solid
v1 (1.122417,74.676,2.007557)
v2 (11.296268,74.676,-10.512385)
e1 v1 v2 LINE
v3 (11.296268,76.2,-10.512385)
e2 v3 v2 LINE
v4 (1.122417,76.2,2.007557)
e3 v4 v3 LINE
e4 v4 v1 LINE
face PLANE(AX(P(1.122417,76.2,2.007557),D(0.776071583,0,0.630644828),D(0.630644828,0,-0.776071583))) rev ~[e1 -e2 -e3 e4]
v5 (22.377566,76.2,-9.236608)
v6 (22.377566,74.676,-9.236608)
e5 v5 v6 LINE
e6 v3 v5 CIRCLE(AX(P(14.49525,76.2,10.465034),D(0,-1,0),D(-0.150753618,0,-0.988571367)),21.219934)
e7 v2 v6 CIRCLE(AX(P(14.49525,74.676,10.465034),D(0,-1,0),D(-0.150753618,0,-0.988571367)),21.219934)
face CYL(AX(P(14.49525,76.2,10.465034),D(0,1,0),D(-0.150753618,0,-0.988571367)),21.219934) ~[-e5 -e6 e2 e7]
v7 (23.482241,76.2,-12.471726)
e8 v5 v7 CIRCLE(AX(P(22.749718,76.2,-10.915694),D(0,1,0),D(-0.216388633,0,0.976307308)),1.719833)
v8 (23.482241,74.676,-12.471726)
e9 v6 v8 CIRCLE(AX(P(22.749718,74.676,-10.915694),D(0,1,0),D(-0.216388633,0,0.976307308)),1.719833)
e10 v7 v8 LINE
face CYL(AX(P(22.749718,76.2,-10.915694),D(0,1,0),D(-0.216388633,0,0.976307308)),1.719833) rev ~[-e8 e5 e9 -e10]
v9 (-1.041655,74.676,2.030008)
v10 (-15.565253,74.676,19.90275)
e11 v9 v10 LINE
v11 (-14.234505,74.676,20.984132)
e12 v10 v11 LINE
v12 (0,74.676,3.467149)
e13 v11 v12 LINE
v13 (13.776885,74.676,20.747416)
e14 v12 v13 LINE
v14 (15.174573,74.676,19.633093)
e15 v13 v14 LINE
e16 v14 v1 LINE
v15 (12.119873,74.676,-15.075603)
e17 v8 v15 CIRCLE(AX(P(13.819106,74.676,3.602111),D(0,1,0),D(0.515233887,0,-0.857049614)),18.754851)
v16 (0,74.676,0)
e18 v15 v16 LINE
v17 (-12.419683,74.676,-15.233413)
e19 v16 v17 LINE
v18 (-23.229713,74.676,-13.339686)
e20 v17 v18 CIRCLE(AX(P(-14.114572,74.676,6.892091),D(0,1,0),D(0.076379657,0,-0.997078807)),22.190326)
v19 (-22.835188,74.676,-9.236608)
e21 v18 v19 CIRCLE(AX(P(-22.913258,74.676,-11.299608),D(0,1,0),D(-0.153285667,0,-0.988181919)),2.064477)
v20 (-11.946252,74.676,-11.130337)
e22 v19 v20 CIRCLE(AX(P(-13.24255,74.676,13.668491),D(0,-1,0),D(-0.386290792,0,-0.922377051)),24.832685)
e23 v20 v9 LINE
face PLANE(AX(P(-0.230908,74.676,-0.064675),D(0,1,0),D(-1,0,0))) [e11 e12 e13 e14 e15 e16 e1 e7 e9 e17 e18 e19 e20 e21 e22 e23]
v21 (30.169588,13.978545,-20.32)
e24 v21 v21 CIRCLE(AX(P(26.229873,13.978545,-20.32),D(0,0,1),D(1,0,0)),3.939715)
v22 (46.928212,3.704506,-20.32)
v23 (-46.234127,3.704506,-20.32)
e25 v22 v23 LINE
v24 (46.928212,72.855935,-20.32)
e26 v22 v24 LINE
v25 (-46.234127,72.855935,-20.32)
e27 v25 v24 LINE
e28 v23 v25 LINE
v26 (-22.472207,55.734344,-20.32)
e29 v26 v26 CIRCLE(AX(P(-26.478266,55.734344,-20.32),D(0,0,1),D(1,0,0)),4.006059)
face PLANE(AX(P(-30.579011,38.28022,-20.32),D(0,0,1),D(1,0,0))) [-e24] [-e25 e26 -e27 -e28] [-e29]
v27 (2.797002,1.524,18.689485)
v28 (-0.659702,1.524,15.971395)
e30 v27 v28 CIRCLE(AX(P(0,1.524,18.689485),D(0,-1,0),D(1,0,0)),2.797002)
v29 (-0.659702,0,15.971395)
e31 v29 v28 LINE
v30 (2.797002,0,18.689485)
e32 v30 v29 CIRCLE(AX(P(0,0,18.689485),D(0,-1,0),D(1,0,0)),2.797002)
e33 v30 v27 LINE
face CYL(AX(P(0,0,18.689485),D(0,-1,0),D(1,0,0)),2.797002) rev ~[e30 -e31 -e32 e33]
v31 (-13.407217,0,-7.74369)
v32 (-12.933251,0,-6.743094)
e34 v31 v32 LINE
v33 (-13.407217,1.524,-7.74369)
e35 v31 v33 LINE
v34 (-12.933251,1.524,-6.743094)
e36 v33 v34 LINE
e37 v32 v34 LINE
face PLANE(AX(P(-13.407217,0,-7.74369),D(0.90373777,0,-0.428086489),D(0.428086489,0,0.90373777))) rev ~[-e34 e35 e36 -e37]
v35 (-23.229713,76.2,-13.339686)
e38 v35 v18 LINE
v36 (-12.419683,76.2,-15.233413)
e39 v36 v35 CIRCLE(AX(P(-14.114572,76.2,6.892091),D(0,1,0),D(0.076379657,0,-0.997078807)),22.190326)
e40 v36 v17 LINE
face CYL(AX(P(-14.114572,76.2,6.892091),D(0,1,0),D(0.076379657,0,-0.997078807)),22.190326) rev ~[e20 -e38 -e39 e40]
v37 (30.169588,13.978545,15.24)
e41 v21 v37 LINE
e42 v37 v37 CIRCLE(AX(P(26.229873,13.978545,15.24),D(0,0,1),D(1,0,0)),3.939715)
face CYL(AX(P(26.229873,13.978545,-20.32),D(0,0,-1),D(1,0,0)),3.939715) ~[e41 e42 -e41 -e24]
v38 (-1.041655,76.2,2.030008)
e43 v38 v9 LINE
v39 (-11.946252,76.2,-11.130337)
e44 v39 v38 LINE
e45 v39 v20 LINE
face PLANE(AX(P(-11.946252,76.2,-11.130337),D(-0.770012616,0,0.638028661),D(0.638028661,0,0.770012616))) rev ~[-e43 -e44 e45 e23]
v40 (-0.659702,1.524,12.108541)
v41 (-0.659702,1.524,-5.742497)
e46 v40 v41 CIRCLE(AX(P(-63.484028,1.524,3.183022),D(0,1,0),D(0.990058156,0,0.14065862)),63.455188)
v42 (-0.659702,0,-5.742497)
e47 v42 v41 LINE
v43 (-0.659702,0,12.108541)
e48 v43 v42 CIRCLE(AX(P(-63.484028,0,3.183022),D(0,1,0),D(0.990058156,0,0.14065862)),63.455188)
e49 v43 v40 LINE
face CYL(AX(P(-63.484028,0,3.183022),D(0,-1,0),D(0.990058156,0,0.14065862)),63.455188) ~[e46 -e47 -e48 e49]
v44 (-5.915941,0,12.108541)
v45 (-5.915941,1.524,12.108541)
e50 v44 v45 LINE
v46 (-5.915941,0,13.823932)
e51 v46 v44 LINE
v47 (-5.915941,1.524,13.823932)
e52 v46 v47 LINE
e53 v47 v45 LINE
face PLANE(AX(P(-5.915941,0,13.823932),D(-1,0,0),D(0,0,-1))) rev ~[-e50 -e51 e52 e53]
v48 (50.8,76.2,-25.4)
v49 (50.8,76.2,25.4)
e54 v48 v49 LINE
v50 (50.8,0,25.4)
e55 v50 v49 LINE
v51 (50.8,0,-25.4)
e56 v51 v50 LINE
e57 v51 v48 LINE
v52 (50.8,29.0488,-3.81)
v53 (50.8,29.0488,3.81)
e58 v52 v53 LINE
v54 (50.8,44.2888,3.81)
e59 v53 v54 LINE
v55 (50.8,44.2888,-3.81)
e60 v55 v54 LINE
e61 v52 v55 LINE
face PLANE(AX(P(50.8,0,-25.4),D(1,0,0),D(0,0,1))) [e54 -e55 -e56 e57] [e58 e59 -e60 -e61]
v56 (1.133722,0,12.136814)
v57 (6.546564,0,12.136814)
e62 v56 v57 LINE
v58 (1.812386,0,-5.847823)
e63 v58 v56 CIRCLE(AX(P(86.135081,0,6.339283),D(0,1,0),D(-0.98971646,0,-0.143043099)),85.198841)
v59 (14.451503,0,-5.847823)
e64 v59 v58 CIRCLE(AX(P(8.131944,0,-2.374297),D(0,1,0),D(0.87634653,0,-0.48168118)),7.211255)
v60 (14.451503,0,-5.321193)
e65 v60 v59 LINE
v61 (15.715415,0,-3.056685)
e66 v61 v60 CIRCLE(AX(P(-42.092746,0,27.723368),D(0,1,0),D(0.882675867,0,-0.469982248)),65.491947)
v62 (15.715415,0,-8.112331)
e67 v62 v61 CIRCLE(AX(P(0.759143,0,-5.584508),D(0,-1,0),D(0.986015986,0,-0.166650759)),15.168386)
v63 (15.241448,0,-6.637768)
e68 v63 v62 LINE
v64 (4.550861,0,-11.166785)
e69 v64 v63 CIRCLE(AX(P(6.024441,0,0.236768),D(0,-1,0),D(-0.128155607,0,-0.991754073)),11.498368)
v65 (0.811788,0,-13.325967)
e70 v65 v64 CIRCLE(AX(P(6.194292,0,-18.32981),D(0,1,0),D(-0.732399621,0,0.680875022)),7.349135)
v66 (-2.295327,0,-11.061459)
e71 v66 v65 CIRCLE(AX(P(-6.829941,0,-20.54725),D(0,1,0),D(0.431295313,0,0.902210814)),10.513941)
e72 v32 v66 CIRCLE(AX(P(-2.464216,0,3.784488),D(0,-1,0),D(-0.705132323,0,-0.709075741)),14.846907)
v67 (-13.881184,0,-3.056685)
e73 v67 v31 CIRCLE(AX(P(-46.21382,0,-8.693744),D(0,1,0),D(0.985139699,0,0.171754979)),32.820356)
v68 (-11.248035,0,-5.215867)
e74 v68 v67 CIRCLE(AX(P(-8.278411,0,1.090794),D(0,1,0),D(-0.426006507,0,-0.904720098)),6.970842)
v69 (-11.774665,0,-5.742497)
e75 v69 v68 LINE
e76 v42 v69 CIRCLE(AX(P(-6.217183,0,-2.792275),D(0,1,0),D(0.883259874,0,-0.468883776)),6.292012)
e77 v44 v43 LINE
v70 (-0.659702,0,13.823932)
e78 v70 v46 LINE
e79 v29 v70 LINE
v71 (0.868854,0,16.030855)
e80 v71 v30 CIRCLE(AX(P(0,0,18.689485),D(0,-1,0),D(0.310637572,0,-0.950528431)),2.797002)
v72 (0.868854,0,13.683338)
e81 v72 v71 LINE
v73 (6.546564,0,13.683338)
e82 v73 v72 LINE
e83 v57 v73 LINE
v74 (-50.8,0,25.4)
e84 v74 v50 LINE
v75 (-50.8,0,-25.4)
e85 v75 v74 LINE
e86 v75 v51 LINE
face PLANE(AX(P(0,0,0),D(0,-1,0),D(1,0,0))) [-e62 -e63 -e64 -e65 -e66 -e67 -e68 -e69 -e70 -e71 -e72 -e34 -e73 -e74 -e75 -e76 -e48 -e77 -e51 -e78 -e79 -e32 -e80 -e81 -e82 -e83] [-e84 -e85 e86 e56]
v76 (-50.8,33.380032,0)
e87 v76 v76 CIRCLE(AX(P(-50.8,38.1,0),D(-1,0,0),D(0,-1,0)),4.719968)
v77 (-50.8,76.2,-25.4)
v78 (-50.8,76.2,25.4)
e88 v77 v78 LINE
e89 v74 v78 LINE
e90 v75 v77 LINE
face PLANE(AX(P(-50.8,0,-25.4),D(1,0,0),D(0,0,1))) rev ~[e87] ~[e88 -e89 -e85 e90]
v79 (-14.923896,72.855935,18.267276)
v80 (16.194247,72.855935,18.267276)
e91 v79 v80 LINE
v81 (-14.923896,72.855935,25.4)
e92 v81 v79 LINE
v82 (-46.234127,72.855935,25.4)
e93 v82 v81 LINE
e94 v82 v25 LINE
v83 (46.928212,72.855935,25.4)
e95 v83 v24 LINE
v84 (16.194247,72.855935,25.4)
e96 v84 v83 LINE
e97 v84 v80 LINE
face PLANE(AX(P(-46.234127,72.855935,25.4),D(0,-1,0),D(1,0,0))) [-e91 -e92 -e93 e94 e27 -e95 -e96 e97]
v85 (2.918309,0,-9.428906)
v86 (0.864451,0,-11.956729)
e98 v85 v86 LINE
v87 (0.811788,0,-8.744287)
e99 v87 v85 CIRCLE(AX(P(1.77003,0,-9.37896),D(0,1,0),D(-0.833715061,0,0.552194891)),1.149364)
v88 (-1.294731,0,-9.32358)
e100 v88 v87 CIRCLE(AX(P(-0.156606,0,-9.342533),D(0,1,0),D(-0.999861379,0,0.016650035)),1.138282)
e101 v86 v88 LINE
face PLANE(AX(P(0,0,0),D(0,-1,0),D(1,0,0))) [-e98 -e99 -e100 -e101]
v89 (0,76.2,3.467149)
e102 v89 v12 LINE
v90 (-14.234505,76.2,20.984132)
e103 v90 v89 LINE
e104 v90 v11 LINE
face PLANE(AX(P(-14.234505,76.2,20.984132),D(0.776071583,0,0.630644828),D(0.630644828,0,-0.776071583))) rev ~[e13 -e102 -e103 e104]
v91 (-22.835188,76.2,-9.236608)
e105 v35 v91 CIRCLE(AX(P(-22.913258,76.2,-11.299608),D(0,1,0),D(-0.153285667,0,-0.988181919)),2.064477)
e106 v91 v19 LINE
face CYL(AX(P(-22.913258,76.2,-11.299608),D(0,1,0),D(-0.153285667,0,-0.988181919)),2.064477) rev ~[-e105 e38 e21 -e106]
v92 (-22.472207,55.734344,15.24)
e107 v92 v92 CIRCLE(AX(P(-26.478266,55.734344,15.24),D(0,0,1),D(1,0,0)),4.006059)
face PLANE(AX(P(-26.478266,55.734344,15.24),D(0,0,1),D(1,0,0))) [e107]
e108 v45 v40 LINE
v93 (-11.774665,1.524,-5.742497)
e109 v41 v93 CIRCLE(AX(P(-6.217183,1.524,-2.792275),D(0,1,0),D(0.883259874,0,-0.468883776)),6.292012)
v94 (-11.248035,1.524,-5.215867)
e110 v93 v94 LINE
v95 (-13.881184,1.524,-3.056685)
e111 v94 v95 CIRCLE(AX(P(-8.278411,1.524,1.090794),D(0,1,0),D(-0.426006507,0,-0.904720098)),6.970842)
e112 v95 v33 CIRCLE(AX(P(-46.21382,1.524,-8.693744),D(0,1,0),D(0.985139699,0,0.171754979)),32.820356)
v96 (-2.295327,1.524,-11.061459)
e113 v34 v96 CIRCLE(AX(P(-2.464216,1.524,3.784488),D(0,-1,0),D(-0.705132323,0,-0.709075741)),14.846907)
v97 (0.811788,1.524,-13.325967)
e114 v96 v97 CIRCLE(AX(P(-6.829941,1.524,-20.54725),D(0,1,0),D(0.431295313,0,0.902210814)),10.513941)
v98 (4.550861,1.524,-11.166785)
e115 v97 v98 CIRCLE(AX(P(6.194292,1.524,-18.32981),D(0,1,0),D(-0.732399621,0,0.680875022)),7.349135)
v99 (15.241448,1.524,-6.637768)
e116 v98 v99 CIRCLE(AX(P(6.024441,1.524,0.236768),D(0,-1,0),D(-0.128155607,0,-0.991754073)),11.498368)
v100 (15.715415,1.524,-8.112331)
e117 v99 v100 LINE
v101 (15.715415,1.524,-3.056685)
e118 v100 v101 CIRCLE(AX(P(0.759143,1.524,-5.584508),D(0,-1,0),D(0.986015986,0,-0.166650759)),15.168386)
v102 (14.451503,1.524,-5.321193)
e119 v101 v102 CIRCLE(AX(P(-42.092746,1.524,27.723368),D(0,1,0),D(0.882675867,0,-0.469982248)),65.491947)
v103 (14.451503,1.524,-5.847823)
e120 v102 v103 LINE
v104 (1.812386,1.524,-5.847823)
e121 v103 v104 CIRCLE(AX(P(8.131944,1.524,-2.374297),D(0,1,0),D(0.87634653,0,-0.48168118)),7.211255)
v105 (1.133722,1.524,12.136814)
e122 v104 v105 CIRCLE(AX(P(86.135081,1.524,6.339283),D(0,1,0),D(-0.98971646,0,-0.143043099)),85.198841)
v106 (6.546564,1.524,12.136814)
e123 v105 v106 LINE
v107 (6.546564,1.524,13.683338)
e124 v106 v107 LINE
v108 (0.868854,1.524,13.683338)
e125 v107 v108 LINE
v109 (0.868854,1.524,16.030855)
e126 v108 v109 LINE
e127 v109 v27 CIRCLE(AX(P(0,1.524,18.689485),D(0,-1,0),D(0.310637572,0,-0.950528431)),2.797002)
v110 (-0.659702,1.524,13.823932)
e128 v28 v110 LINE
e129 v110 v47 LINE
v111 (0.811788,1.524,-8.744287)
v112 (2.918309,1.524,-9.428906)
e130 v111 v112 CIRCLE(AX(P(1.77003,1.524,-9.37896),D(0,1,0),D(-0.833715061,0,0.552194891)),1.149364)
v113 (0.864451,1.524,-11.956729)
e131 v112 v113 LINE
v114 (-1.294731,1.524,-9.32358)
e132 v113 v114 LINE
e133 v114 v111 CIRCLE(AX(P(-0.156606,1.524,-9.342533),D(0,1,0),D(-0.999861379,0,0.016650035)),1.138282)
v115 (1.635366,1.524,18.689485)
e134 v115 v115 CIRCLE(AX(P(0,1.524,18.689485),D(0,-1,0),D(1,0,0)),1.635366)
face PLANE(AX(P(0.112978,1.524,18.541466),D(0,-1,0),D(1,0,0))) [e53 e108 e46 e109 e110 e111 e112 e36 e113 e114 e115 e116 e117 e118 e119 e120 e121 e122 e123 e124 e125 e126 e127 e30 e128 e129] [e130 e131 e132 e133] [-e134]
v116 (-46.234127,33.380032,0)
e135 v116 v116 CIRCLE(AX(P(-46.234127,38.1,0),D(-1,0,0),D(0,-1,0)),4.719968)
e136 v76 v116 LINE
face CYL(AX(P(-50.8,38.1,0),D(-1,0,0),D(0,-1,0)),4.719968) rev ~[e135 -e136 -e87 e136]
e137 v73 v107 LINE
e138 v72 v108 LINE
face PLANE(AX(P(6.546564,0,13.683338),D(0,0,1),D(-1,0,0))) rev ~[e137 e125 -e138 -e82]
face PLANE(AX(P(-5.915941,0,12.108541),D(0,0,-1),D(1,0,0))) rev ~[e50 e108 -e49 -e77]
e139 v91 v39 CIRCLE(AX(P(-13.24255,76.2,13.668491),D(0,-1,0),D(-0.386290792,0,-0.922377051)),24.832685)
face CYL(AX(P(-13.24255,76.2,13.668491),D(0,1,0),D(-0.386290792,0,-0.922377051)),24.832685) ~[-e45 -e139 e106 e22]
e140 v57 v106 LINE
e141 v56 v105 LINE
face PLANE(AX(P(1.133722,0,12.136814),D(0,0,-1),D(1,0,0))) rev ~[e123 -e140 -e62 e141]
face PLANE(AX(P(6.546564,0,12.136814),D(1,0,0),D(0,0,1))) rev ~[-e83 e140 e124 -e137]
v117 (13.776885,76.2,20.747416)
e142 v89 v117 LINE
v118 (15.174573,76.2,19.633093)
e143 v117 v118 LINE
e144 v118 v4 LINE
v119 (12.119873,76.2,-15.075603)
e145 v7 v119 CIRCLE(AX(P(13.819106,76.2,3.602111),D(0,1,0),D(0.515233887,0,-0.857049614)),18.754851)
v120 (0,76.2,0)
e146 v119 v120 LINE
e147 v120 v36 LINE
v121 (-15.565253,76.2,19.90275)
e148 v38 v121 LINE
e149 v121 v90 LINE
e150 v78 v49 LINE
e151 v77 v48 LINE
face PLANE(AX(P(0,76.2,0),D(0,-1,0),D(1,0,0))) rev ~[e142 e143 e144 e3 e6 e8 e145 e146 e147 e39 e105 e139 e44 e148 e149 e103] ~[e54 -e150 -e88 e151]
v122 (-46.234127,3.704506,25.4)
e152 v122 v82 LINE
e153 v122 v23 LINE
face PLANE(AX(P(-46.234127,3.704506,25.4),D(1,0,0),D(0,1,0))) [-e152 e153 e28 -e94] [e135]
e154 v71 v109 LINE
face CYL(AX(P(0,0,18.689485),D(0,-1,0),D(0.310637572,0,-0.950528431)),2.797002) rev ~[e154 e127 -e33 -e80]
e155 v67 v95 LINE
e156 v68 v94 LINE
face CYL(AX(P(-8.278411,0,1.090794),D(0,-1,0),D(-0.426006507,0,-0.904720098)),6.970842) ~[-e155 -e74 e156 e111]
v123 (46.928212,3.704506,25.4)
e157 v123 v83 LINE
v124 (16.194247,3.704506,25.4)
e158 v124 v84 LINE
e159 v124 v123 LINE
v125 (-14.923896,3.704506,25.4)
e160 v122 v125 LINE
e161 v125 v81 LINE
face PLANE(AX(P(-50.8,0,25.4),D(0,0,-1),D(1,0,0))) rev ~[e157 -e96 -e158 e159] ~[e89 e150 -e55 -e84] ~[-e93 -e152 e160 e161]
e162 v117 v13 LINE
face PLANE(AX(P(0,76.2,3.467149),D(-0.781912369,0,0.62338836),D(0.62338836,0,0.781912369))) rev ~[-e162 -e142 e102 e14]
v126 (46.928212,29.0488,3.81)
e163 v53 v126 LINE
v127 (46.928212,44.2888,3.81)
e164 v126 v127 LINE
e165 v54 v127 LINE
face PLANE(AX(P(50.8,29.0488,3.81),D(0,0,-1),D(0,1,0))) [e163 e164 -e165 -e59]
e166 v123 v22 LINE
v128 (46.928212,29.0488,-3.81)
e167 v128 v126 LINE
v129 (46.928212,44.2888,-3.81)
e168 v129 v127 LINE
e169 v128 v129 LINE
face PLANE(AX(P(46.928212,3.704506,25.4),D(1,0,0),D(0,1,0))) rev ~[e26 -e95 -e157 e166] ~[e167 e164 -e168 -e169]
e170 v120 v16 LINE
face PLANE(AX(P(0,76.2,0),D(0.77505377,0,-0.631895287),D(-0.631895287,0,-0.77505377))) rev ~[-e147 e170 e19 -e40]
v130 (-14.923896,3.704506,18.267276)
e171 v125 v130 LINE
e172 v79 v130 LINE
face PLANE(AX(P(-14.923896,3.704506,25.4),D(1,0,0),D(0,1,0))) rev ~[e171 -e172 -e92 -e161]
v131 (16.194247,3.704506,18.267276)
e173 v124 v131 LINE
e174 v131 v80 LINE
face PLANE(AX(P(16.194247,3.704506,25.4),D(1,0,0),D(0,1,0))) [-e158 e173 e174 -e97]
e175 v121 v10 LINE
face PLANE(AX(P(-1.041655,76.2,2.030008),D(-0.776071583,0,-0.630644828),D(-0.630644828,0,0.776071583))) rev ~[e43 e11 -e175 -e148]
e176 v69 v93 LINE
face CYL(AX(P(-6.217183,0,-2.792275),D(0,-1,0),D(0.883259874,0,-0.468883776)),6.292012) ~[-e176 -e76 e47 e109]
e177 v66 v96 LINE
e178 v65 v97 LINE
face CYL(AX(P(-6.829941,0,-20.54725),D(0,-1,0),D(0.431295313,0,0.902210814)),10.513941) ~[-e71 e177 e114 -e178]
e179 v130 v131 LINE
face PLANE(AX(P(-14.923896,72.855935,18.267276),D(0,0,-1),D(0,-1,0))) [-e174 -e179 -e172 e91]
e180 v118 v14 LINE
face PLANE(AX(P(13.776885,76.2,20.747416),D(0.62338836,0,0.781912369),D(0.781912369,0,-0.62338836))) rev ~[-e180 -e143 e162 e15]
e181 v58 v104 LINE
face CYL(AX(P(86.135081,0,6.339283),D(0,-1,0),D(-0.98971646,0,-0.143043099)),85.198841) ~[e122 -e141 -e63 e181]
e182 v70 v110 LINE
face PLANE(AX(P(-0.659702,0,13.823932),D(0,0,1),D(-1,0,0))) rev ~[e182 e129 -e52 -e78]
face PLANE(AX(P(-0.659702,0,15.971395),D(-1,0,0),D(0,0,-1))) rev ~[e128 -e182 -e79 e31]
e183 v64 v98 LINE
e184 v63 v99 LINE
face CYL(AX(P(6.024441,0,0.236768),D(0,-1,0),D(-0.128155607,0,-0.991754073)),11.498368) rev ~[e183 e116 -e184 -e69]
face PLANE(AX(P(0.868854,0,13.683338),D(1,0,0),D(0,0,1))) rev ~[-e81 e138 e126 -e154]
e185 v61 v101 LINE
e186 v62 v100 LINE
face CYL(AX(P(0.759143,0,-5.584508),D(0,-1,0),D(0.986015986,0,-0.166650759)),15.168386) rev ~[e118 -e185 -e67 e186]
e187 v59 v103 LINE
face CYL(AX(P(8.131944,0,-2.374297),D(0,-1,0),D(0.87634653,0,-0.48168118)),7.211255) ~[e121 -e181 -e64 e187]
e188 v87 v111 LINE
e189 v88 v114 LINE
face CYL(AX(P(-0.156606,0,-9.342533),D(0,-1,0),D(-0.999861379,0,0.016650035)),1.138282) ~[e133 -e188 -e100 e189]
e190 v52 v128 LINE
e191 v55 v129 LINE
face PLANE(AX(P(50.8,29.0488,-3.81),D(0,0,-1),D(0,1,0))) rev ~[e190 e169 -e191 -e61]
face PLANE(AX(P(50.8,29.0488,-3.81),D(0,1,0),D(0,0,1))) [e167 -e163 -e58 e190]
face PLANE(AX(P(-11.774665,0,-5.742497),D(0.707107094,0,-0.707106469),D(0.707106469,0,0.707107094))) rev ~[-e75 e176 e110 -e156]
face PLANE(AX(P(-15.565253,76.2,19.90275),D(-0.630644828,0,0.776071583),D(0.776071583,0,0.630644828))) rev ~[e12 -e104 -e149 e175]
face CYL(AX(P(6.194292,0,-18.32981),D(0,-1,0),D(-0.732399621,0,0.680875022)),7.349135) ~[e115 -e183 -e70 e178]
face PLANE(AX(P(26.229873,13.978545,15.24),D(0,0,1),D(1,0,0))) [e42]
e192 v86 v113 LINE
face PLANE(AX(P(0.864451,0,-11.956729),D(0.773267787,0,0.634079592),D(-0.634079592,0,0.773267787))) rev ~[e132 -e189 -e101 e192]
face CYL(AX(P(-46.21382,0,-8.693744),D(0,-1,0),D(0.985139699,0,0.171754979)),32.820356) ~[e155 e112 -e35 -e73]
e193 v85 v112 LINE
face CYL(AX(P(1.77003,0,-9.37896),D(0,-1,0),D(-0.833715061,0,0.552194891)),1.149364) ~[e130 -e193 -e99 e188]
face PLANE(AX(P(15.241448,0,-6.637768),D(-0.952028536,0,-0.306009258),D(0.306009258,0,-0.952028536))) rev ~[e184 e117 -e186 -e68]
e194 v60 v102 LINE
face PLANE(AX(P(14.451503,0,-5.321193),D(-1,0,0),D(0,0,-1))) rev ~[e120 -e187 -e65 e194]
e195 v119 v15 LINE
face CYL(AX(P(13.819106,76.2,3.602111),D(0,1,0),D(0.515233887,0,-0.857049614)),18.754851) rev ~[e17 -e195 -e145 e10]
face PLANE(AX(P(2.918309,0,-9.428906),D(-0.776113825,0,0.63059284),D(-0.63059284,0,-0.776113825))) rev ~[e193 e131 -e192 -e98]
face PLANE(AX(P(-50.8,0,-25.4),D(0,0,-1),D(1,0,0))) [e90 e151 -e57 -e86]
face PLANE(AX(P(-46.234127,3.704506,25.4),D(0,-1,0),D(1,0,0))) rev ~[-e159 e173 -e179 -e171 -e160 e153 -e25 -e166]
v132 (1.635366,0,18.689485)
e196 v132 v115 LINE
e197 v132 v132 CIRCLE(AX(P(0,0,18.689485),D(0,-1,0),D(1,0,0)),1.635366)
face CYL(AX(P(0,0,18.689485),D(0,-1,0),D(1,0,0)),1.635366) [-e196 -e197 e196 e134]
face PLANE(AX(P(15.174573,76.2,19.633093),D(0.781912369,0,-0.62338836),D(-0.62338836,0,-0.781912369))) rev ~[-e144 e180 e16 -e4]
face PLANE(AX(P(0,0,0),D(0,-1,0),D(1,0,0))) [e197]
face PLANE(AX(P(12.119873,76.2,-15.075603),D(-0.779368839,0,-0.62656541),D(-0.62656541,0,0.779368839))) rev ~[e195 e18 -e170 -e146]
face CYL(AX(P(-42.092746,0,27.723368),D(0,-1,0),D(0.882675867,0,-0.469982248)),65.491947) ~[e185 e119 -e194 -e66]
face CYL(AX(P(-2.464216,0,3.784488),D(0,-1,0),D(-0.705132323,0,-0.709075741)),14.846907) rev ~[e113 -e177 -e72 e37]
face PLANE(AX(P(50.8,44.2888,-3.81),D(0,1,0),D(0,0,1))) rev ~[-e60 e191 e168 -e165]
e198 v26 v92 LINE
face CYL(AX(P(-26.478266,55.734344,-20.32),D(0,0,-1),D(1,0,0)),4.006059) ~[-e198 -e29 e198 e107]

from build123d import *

# Parameters (mm, degrees)
F0_W      = 101.6
F0_H      = 50.8
F1_DEPTH  = 76.2
F2_W      = 31.3102314249
F2_H      = 69.1514285281
F2_W_2    = 30.7339653373
F3_DEPTH  = 45.72
F4_W      = 69.1514285281
F4_H      = 38.5872757655
F5_DEPTH  = 50.8
F6_W      = 15.24
F6_H      = 7.62
F7_DEPTH  = 10.16
F8_R      = 4.7199680321
F9_DEPTH  = 12.7
F10_R     = 1.635365768
F11_DEPTH = 1.524
F13_DEPTH = 1.524
F14_R     = 4.0060593356
F14_R_2   = 3.939714961
F15_DEPTH = 35.56


with BuildPart() as f1:
    # F0 (on Front) → F1 (new body)
    with BuildSketch(Plane.XZ):
        Rectangle(F0_W, F0_H)
    extrude(amount=-F1_DEPTH)

    # F2 (on face) → F3 (cut)
    with BuildSketch(Plane.XY.offset(25.4)):
        with Locations((-30.5790114217, 38.2802202366)):
            Rectangle(F2_W, F2_H)
        with Locations((31.561229378, 38.2802202366)):
            Rectangle(F2_W_2, F2_H)
    extrude(amount=-F3_DEPTH, mode=Mode.SUBTRACT)

    # F4 (on face) → F5 (cut)
    with BuildSketch(Plane(origin=(-14.9238957092, 0, 0), x_dir=(0, -1, 0), z_dir=(-1, 0, 0))):
        with Locations((-38.2802202366, -1.0263621172)):
            Rectangle(F4_W, F4_H)
    extrude(amount=-F5_DEPTH, mode=Mode.SUBTRACT)

    # F6 (on face) → F7 (cut)
    with BuildSketch(Plane.YZ.offset(50.8)):
        with Locations((36.6688001752, 0)):
            Rectangle(F6_W, F6_H)
    extrude(amount=-F7_DEPTH, mode=Mode.SUBTRACT)

    # F8 (on face) → F9 (cut)
    with BuildSketch(Plane(origin=(-50.8, 0, 0), x_dir=(0, -1, 0), z_dir=(-1, 0, 0))):
        with Locations((-38.1, 0)):
            Circle(F8_R)
    extrude(amount=-F9_DEPTH, mode=Mode.SUBTRACT)

    # F10 (on face) → F11 (cut)
    with BuildSketch(Plane.XZ):
        with BuildLine():
            ThreePointArc((0.8688539046, 16.0308553601), (2.2642224031, 17.0473777803), (2.7970019822, 18.6894852668))
            ThreePointArc((2.7970019822, 18.6894852668), (-1.728877271, 20.8881674789), (-0.6597016604, 15.9713951639))
            ThreePointArc((-0.6597016604, 15.9713951639), (0.108720026, 15.8945970679), (0.8688539046, 16.0308553601))
        make_face()
        with Locations((0, 18.6894852668)):
            Circle(F10_R, mode=Mode.SUBTRACT)
        with BuildLine():
            ThreePointArc((0.8688539046, 16.0308553601), (0.108720026, 15.8945970679), (-0.6597016604, 15.9713951639))
            Line((-0.6597016604, 15.9713951639), (-0.6597016604, 13.8239324768))
            Line((-0.6597016604, 13.8239324768), (-5.9159405627, 13.8239324768))
            Line((-5.9159405627, 13.8239324768), (-5.9159405627, 12.1085410579))
            Line((-5.9159405627, 12.1085410579), (-0.6597016604, 12.1085410579))
            ThreePointArc((-0.6597016604, 12.1085410579), (-0.0288400906, 3.1830218907), (-0.6597016604, -5.7424972765))
            ThreePointArc((-0.6597016604, -5.7424972765), (-6.2171832026, -9.0842868218), (-11.7746647447, -5.7424972765))
            Line((-11.7746647447, -5.7424972765), (-11.2480353564, -5.2158674225))
            ThreePointArc((-11.2480353564, -5.2158674225), (-12.6984808292, -4.2995334354), (-13.8811841607, -3.0566847418))
            ThreePointArc((-13.8811841607, -3.0566847418), (-13.5599978183, -5.3916725495), (-13.4072173387, -7.7436901629))
            Line((-13.4072173387, -7.7436901629), (-12.9332505167, -6.7430939525))
            ThreePointArc((-12.9332505167, -6.7430939525), (-8.0485977202, -9.9721592901), (-2.29532714, -11.0614588484))
            ThreePointArc((-2.29532714, -11.0614588484), (-0.6373782355, -12.0504785864), (0.8117884863, -13.3259668946))
            ThreePointArc((0.8117884863, -13.3259668946), (2.5191788748, -11.9655868759), (4.5508607291, -11.1667849123))
            ThreePointArc((4.5508607291, -11.1667849123), (10.5097684759, -10.3506913543), (15.2414478362, -6.6377678886))
            Line((15.2414478362, -6.6377678886), (15.7154146582, -8.112330921))
            ThreePointArc((15.7154146582, -8.112330921), (15.9275295852, -5.5845078314), (15.7154146582, -3.0566847418))
            ThreePointArc((15.7154146582, -3.0566847418), (15.0946685939, -4.1951955449), (14.4515028223, -5.3211930208))
            Line((14.4515028223, -5.3211930208), (14.4515028223, -5.8478228748))
            ThreePointArc((14.4515028223, -5.8478228748), (8.131944458, -9.5855520976), (1.8123860937, -5.8478228748))
            ThreePointArc((1.8123860937, -5.8478228748), (0.996836842, 3.1265252312), (1.1337217875, 12.1368141845))
            Line((1.1337217875, 12.1368141845), (6.5465644002, 12.1368141845))
            Line((6.5465644002, 12.1368141845), (6.5465644002, 13.683338151))
            Line((6.5465644002, 13.683338151), (0.8688539046, 13.683338151))
            Line((0.8688539046, 13.683338151), (0.8688539046, 16.0308553601))
        make_face()
        with BuildLine():
            ThreePointArc((0.8117884863, -8.7442873046), (2.1252827801, -8.2858759495), (2.9183086008, -9.4289062545))
            Line((2.9183086008, -9.4289062545), (0.8644514601, -11.9567289948))
            Line((0.8644514601, -11.9567289948), (-1.2947305804, -9.3235801905))
            ThreePointArc((-1.2947305804, -9.3235801905), (-0.4584292651, -8.2449949671), (0.8117884863, -8.7442873046))
        make_face(mode=Mode.SUBTRACT)
    extrude(amount=-F11_DEPTH, mode=Mode.SUBTRACT)

    # F12 (on face) → F13 (cut)
    with BuildSketch(Plane(origin=(0, 76.2, 0), x_dir=(-1, 0, 0), z_dir=(0, 1, 0))):
        with BuildLine():
            Line((14.2345046625, 20.9841318429), (0, 3.4671491012))
            Line((0, 3.4671491012), (-13.7768853456, 20.7474157214))
            Line((-13.7768853456, 20.7474157214), (-15.1745732773, 19.6330934249))
            Line((-15.1745732773, 19.6330934249), (-1.1224173427, 2.0075565166))
            Line((-1.1224173427, 2.0075565166), (-11.2962679055, -10.512384918))
            ThreePointArc((-11.2962679055, -10.512384918), (-16.9222450094, -10.615651057), (-22.3775655031, -9.2366077006))
            ThreePointArc((-22.3775655031, -9.2366077006), (-24.377281906, -10.3599397452), (-23.4822407365, -12.4717261642))
            ThreePointArc((-23.4822407365, -12.4717261642), (-18.0084948263, -14.6788471986), (-12.1198734269, -15.0756035))
            Line((-12.1198734269, -15.0756035), (0, 0))
            Line((0, 0), (12.4196829274, -15.2334133163))
            ThreePointArc((12.4196829274, -15.2334133163), (17.9436167829, -14.9653793634), (23.2297126204, -13.3396862075))
            ThreePointArc((23.2297126204, -13.3396862075), (24.9682567409, -11.1020125383), (22.835187614, -9.2366077006))
            ThreePointArc((22.835187614, -9.2366077006), (17.49741351, -10.7969617685), (11.9462516159, -11.1303366721))
            Line((11.9462516159, -11.1303366721), (1.0416547929, 2.0300080541))
            Line((1.0416547929, 2.0300080541), (15.5652534262, 19.9027498628))
            Line((15.5652534262, 19.9027498628), (14.2345046625, 20.9841318429))
        make_face()
    extrude(amount=-F13_DEPTH, mode=Mode.SUBTRACT)

    # F14 (on face) → F15 (join)
    with BuildSketch(Plane.XY.offset(-20.32)):
        with Locations((-26.4782663435, 55.7343438268)):
            Circle(F14_R)
        with Locations((26.2298732996, 13.9785446227)):
            Circle(F14_R_2)
    extrude(amount=F15_DEPTH)


solid = f1.part
